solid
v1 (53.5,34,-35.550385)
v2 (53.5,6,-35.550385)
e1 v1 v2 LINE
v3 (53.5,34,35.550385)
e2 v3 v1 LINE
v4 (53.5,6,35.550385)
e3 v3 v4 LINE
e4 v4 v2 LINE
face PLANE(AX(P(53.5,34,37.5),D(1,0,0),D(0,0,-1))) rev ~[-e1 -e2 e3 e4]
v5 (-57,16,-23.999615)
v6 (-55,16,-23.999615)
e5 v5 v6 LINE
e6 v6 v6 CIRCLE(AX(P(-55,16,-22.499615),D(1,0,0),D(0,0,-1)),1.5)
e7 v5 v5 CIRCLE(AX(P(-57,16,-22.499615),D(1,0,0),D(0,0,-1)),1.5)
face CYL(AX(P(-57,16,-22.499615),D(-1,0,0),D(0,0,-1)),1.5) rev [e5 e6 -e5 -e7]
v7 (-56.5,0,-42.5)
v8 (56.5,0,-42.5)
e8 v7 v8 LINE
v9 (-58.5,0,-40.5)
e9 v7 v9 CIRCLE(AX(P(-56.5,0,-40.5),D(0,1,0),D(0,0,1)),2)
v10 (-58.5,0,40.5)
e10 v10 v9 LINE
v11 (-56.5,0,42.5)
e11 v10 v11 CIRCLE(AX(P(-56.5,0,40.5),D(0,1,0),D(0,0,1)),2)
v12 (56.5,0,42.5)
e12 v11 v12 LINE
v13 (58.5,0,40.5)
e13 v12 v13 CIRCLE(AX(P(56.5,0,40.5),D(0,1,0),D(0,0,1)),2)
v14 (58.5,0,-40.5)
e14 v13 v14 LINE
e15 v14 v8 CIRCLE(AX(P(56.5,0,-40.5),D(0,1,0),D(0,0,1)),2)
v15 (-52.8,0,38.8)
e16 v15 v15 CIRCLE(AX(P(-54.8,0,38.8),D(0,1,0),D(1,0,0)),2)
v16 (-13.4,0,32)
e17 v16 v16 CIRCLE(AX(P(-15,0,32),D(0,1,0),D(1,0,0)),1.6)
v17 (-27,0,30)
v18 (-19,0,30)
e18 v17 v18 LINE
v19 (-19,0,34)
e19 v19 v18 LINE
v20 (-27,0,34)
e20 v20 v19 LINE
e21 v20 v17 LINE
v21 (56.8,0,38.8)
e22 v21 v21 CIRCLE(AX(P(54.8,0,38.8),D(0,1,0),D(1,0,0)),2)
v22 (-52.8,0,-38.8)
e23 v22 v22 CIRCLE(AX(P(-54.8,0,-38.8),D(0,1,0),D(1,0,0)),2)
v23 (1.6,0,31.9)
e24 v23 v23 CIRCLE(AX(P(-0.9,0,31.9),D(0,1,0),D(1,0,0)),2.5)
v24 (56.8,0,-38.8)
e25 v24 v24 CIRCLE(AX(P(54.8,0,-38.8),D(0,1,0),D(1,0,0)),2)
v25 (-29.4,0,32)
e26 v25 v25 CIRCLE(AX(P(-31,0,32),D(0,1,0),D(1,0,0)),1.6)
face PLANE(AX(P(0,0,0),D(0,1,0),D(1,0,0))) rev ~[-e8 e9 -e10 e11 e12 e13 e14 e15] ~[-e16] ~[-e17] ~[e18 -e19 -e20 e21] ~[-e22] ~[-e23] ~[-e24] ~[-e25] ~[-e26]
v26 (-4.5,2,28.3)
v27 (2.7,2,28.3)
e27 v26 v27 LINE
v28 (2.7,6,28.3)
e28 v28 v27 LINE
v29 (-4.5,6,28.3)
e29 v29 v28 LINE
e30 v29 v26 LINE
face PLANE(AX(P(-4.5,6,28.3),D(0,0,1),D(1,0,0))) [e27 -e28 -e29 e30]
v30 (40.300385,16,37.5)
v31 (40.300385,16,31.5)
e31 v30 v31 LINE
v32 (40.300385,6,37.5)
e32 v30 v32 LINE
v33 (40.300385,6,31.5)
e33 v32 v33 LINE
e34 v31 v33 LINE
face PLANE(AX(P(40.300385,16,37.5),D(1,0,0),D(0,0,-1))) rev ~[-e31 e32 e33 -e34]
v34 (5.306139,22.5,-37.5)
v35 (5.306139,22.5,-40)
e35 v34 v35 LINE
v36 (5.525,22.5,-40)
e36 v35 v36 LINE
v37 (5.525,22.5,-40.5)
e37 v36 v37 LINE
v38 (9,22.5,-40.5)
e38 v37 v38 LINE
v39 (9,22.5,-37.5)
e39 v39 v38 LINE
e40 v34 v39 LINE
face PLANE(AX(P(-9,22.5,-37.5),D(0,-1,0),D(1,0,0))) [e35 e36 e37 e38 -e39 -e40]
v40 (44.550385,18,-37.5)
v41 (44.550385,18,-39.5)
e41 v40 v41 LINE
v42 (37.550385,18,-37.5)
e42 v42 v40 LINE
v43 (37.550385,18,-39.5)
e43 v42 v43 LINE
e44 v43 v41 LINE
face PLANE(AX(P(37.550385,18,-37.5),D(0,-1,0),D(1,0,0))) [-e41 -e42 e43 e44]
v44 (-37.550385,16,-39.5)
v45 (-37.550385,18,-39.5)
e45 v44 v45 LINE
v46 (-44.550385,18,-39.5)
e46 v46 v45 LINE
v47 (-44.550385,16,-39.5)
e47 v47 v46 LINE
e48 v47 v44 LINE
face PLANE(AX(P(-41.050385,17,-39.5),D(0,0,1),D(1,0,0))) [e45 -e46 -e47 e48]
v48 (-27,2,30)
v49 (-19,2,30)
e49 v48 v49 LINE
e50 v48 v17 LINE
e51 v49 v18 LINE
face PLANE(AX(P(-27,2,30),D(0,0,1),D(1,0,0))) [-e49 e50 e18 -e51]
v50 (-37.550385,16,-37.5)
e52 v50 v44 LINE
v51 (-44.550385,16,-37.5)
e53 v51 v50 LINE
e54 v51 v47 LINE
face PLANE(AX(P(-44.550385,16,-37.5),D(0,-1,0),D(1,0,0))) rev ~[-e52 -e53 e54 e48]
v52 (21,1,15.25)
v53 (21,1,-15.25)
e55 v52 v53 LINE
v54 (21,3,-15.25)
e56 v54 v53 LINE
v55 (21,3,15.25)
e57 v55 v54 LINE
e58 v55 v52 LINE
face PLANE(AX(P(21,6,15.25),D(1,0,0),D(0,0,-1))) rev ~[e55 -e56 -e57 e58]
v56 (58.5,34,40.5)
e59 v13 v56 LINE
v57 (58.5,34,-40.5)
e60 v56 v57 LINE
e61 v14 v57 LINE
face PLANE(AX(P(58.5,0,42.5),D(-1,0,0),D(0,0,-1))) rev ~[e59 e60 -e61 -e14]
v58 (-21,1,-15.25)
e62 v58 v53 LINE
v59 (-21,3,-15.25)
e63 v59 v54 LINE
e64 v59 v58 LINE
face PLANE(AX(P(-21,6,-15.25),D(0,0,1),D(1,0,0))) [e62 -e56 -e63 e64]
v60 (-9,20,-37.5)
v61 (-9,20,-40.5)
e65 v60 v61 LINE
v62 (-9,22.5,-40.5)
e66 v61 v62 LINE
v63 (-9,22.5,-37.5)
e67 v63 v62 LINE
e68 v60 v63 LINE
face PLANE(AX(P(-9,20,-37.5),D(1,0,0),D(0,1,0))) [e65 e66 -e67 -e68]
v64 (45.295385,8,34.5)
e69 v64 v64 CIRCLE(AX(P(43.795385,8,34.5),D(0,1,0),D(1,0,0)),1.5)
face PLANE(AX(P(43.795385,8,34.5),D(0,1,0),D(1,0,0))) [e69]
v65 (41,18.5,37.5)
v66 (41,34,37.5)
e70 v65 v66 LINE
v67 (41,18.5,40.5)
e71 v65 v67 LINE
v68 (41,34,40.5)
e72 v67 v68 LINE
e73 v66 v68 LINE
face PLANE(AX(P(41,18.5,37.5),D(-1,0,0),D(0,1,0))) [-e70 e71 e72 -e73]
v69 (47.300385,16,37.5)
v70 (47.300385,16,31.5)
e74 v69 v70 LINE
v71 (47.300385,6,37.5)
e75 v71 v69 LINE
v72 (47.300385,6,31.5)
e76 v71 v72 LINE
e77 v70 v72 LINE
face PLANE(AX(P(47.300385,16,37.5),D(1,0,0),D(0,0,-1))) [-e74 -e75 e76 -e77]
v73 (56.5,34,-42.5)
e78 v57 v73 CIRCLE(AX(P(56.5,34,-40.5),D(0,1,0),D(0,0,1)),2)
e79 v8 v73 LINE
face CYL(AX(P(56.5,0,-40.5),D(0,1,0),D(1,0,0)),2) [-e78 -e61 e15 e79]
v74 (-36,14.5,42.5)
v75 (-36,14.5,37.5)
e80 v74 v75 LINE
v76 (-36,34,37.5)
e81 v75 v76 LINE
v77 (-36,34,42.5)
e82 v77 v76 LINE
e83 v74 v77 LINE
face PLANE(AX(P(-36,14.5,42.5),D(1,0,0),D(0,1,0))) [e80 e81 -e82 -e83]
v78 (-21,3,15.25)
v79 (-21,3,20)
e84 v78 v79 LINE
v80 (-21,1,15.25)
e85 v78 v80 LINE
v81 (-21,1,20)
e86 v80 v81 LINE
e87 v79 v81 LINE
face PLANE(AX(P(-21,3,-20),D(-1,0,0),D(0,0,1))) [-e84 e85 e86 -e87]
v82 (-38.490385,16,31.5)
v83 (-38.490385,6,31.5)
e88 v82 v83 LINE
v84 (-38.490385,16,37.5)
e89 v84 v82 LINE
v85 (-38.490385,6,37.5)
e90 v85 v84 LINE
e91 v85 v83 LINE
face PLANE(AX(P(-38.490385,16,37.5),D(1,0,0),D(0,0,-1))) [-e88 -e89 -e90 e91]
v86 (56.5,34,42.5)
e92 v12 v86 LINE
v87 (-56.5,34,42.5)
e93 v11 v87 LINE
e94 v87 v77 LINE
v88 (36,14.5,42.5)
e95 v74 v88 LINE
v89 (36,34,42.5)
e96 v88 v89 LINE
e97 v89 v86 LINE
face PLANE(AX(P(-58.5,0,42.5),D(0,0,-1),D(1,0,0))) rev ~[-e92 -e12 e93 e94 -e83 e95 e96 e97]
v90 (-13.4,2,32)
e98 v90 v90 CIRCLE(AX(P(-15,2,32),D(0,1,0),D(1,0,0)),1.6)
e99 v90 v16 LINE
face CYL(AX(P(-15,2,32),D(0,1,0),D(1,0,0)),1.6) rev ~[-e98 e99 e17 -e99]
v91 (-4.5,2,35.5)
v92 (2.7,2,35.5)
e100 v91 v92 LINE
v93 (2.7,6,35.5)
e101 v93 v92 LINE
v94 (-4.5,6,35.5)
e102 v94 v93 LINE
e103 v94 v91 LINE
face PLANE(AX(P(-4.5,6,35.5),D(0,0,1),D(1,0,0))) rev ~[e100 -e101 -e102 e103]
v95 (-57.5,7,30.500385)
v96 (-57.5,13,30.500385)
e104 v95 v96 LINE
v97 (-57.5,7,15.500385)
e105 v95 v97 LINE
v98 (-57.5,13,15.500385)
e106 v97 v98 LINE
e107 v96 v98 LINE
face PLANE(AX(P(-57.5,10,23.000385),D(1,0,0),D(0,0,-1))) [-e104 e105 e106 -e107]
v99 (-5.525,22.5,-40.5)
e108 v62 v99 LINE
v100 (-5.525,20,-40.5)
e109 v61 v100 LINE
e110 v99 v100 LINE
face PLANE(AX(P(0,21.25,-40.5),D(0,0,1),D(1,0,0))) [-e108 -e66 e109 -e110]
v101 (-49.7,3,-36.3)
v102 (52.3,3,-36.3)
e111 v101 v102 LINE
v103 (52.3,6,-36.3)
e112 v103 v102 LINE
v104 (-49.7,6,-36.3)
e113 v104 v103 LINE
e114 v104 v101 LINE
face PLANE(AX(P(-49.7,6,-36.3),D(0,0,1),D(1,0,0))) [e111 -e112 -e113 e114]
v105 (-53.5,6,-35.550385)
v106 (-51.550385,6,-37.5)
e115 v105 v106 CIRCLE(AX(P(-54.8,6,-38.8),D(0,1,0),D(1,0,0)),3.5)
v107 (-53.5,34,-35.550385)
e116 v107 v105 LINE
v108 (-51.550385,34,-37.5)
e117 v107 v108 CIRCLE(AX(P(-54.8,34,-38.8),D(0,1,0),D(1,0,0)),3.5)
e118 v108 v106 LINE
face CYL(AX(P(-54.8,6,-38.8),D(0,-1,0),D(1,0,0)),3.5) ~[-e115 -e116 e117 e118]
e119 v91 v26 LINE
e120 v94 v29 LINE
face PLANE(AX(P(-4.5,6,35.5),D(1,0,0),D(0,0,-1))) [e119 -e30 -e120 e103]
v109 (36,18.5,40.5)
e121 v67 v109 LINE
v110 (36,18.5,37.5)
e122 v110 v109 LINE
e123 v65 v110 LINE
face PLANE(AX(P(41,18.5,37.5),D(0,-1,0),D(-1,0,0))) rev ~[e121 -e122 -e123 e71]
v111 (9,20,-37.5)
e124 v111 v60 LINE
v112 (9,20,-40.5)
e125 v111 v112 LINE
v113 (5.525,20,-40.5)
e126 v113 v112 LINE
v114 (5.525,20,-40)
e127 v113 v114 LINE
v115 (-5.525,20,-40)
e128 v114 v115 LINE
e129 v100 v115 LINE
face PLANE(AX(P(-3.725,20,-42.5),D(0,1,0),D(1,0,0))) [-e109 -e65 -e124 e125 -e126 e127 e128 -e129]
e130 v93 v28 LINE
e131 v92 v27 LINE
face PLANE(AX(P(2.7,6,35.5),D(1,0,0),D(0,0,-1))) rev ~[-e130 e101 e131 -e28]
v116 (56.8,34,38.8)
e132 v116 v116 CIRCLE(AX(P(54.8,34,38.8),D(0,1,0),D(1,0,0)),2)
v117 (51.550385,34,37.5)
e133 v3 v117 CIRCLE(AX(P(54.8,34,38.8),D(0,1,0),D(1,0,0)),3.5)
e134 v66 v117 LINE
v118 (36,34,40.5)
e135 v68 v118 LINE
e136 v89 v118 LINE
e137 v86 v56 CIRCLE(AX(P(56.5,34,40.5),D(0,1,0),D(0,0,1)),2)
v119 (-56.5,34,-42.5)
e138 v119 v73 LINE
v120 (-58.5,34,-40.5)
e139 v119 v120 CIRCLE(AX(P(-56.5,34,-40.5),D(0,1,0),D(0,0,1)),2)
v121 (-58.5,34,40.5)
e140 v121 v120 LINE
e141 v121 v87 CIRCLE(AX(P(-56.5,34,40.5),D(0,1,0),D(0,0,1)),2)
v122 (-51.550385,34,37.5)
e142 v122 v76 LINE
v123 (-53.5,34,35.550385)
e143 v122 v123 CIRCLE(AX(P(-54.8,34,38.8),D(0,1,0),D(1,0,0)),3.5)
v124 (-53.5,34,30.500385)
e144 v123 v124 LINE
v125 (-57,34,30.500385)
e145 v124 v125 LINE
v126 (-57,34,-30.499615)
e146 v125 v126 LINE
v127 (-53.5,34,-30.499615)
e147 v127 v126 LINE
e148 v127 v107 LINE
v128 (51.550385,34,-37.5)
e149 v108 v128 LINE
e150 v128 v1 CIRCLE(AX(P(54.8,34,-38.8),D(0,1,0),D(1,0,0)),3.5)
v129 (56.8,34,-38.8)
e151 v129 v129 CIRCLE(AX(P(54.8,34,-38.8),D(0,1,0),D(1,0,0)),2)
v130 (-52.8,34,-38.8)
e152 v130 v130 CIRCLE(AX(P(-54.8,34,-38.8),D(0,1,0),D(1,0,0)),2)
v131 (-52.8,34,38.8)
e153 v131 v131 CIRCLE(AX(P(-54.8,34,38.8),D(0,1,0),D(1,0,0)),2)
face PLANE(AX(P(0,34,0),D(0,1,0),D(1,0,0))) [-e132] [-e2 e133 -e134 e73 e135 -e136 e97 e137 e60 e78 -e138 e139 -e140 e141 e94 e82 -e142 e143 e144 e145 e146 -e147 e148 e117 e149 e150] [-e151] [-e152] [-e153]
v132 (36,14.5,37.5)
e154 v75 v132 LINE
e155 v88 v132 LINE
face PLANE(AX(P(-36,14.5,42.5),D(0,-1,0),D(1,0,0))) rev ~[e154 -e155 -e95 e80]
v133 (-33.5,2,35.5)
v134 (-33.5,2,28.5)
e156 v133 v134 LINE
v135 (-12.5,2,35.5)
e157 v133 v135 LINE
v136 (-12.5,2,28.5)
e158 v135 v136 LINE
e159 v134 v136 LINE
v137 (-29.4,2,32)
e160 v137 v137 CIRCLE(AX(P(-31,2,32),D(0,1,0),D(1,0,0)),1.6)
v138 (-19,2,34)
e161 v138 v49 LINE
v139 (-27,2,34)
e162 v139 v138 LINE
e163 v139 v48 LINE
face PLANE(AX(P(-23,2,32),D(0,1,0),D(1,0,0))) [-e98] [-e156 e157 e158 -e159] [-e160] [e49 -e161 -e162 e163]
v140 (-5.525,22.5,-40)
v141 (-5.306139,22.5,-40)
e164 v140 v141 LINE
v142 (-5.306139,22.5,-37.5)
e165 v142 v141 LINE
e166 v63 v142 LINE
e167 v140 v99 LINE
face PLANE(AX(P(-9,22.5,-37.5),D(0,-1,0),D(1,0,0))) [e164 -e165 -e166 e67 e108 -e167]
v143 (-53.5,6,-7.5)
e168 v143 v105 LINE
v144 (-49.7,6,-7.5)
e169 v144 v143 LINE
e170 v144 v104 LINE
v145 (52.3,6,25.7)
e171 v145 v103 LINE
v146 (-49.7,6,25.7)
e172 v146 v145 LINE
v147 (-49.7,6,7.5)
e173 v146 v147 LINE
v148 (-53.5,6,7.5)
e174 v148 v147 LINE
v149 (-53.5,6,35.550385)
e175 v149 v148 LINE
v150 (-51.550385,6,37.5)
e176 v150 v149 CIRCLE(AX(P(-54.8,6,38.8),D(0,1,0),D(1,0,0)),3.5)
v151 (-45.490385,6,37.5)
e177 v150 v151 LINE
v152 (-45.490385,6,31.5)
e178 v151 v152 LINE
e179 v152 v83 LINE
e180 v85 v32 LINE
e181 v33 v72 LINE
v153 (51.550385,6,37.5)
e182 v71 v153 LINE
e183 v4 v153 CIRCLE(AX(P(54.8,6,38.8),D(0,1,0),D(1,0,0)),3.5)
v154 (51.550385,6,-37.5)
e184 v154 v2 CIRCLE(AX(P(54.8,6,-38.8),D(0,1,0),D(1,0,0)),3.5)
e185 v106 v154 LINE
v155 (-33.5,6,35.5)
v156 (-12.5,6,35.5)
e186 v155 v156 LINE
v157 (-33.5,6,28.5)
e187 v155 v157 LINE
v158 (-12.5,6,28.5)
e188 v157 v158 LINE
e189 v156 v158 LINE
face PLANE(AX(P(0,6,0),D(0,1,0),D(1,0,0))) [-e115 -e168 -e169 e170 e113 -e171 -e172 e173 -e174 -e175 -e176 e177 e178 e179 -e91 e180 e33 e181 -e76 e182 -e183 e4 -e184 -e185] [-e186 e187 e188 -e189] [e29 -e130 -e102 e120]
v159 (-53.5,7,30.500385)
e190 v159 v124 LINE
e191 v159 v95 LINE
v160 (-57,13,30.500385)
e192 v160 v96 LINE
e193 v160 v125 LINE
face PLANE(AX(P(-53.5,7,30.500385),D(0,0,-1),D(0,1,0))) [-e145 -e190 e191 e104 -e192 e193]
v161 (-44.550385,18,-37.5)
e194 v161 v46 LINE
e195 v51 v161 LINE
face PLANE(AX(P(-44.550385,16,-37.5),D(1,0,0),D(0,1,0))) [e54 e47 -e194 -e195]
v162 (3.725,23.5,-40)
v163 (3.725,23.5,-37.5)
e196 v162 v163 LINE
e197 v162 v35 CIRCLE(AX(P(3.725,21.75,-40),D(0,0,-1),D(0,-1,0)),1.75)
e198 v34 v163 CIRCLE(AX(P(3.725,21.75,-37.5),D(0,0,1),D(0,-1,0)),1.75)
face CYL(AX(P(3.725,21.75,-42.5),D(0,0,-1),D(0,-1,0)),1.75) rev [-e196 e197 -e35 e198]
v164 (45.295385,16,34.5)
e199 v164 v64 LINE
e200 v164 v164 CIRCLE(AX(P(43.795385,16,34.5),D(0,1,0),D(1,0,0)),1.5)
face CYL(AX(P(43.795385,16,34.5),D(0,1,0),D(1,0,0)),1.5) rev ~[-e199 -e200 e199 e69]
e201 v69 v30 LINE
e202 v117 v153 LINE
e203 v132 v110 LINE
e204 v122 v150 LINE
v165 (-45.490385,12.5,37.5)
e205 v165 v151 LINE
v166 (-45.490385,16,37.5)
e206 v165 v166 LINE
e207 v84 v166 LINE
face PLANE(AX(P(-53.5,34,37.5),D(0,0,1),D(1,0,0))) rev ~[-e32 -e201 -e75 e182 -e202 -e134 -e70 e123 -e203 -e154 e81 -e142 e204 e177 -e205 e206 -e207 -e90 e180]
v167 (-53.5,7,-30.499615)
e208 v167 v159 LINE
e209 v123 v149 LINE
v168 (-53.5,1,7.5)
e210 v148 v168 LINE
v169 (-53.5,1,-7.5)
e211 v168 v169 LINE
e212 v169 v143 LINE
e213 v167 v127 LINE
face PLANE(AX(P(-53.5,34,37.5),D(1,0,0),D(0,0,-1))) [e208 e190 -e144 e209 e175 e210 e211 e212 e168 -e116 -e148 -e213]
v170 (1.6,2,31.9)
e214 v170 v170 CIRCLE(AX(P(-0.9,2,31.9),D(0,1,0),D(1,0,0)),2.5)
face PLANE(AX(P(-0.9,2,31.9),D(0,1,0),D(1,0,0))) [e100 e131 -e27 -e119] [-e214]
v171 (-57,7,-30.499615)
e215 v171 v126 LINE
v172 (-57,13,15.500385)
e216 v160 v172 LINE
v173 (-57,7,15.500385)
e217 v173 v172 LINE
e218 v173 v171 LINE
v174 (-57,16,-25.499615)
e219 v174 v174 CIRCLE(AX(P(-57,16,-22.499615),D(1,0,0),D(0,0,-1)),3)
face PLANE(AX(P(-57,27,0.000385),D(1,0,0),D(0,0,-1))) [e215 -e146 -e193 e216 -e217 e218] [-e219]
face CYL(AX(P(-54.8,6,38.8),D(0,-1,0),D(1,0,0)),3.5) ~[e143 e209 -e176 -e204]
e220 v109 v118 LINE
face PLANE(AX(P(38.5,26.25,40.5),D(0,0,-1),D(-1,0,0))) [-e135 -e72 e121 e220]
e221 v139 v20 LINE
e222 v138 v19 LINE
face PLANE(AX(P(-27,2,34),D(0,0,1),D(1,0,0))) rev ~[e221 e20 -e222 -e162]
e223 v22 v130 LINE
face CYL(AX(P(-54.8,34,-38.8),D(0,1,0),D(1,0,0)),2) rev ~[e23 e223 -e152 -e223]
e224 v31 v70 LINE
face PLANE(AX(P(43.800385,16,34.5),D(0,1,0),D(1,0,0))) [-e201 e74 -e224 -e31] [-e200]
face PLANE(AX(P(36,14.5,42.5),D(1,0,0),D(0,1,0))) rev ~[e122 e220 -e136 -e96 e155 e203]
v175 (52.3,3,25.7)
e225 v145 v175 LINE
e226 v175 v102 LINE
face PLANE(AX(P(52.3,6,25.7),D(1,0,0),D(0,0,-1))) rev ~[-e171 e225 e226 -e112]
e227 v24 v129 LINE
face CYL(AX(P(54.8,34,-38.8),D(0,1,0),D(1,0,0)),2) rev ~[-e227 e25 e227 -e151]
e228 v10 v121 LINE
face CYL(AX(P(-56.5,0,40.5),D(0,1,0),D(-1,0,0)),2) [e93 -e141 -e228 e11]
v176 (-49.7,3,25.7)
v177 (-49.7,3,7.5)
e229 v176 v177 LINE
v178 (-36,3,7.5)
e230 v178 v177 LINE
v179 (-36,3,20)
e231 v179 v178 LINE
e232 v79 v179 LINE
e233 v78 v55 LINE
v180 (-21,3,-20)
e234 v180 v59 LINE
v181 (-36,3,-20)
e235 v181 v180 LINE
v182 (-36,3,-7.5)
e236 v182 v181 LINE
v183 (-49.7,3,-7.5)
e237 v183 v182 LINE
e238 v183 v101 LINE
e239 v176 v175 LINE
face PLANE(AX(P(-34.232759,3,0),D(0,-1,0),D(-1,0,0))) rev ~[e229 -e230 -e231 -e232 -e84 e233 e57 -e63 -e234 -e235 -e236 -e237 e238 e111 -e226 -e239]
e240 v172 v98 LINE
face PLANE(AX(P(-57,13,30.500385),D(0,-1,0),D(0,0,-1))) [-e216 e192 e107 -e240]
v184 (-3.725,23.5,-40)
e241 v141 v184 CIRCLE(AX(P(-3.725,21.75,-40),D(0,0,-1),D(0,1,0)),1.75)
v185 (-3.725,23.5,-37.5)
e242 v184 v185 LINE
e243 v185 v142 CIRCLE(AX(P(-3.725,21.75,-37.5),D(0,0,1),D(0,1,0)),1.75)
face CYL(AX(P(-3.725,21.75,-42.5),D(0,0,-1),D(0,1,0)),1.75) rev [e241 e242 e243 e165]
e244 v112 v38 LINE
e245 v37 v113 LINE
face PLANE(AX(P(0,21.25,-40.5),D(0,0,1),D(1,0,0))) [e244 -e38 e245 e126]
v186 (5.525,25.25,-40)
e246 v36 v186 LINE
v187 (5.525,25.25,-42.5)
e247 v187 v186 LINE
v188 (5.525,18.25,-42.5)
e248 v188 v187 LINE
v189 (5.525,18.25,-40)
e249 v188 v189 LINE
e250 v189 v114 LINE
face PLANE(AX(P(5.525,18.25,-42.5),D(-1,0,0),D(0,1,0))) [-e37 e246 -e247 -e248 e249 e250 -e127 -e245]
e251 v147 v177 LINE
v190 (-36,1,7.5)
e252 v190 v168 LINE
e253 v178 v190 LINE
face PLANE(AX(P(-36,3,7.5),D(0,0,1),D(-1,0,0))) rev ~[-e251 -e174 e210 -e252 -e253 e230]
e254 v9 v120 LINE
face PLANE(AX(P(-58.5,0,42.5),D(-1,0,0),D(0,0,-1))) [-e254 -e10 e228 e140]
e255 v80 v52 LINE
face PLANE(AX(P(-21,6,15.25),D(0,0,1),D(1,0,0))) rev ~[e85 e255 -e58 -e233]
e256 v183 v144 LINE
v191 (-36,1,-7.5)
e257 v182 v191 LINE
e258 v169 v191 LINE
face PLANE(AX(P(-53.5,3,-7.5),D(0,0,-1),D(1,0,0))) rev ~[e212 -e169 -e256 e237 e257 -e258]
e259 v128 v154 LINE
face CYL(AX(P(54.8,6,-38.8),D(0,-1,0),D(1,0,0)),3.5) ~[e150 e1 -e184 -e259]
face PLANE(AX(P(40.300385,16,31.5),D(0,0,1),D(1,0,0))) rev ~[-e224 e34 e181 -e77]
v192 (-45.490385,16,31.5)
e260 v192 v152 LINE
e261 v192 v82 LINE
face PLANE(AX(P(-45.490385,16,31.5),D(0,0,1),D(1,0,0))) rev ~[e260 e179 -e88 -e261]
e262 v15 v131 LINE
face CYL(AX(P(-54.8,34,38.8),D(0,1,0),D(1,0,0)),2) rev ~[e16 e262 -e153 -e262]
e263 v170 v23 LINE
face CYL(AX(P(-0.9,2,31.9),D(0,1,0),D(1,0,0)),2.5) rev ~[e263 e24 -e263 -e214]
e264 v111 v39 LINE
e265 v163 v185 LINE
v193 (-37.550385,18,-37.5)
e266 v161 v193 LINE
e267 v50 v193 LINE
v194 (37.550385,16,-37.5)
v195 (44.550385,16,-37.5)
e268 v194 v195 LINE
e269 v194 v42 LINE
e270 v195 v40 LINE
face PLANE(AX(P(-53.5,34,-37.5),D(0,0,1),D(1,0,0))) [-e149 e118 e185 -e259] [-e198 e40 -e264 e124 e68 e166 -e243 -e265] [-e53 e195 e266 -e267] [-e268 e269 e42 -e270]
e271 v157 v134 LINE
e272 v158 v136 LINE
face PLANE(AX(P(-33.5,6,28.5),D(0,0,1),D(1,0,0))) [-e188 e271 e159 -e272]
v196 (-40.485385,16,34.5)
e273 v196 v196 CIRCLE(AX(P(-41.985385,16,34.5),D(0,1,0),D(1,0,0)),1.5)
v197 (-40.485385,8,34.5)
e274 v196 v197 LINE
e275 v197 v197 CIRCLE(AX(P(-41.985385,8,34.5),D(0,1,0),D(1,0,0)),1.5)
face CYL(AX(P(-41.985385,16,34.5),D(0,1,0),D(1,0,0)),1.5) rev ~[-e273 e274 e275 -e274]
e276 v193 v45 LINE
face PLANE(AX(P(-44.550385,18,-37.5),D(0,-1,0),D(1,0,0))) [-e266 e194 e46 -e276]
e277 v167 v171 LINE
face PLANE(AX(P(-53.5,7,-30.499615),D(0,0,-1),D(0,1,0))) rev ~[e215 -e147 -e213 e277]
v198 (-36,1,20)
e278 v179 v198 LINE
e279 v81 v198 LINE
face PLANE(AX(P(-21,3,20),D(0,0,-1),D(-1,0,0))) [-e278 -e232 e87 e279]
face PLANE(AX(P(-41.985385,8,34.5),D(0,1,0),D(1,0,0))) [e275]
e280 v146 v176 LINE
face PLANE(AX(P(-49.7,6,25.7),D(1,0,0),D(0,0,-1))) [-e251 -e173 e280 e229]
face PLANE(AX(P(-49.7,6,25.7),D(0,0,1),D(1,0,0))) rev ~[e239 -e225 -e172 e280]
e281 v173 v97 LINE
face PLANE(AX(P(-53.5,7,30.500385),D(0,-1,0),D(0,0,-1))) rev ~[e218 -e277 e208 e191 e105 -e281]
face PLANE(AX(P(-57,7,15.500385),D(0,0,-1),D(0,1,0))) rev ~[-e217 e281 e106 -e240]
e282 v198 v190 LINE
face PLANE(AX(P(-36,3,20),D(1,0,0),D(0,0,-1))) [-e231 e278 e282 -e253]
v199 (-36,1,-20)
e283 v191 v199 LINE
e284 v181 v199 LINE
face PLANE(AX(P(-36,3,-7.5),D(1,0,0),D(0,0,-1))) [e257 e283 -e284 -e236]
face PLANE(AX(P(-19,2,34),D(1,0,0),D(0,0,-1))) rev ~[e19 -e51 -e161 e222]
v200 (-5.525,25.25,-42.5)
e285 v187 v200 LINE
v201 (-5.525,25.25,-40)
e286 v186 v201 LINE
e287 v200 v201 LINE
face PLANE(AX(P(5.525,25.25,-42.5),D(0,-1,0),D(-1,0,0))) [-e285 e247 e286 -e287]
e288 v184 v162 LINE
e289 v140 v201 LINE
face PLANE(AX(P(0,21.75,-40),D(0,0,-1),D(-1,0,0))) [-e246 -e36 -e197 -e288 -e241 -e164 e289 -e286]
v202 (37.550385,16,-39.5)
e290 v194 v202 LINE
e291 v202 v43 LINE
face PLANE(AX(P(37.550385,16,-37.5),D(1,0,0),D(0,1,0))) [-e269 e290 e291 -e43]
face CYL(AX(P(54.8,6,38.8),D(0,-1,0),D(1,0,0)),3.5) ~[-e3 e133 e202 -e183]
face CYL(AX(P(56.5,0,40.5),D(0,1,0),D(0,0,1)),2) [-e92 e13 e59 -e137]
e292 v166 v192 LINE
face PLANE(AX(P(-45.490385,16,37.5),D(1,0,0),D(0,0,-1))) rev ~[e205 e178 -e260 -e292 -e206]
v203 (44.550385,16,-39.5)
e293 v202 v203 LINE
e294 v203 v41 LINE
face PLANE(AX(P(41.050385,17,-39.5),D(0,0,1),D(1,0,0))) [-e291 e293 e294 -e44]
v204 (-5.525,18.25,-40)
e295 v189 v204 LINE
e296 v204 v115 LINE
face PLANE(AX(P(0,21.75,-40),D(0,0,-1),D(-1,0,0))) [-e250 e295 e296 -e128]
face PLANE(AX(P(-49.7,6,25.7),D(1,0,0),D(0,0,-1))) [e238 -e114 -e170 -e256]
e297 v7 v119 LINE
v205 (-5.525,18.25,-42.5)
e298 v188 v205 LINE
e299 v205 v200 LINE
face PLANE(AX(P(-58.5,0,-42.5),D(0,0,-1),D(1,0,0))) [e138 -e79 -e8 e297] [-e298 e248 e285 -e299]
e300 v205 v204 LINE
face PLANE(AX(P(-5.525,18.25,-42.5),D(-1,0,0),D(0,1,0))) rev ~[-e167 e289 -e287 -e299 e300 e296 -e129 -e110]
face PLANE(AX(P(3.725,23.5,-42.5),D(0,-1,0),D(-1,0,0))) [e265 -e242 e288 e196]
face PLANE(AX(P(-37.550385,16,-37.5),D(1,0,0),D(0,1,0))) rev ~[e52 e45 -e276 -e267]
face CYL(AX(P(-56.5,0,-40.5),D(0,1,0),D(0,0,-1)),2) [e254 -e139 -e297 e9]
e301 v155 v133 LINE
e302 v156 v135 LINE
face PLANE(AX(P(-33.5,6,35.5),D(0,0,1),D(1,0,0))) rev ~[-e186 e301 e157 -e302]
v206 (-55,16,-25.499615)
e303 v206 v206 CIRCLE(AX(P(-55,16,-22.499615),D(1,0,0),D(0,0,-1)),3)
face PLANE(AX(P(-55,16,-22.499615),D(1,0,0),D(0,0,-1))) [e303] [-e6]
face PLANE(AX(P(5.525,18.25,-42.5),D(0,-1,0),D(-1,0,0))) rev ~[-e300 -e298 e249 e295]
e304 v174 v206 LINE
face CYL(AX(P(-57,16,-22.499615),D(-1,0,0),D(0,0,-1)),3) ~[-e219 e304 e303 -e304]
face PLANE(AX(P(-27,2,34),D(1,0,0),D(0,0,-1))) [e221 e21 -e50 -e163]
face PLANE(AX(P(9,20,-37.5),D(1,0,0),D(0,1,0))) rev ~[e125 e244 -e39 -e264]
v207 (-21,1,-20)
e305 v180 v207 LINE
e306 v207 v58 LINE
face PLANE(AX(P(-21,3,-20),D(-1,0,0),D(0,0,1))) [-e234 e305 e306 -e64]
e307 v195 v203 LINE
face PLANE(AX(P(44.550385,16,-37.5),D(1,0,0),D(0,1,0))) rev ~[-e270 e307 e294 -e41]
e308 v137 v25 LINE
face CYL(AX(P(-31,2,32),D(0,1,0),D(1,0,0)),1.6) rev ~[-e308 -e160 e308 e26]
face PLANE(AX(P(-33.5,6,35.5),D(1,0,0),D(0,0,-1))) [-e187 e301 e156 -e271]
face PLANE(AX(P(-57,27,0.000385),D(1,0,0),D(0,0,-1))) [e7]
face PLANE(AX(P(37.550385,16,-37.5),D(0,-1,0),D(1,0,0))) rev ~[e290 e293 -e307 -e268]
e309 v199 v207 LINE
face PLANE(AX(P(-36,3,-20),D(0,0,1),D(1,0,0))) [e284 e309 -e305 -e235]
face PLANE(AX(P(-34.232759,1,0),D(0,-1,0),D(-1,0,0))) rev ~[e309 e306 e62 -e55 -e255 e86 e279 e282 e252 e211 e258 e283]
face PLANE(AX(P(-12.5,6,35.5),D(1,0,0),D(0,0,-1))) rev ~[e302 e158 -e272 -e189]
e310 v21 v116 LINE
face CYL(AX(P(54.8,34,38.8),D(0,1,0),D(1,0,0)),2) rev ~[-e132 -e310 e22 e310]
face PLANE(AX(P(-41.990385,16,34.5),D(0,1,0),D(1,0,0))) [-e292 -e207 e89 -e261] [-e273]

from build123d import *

# Parameters (mm, degrees)
SKETCH1_W                = 117
SKETCH1_H                = 85
BOSS_EXTRUDE1_DEPTH      = 34
SKETCH2_W                = 107
SKETCH2_H                = 75
CUT_EXTRUDE1_DEPTH       = 28
SKETCH3_R                = 2
CUT_EXTRUDE2_DEPTH       = 28
CUT_EXTRUDE2_DEPTH_BACK  = 28
SKETCH11_R               = 3.5
BOSS_EXTRUDE3_DEPTH      = 28
SKETCH13_R               = 2
CUT_EXTRUDE9_DEPTH       = 35
SKETCH14_W               = 102
SKETCH14_H               = 62
CUT_EXTRUDE10_DEPTH      = 3
SKETCH15_W               = 61
SKETCH15_H               = 40
CUT_EXTRUDE11_DEPTH      = 3.5
SKETCH16_W               = 15
SKETCH16_H               = 6
CUT_EXTRUDE12_DEPTH      = 0.5
CUT_EXTRUDE13_DEPTH      = 5
SKETCH20_W               = 72
SKETCH20_H               = 25
CUT_EXTRUDE14_DEPTH      = 5
SKETCH21_W               = 7
SKETCH21_H               = 2
CUT_EXTRUDE15_DEPTH      = 2
SKETCH22_W               = 7
SKETCH22_H               = 2
BOSS_EXTRUDE5_DEPTH      = 2.5
SKETCH23_W               = 3
SKETCH23_H               = 1.5
BOSS_EXTRUDE6_DEPTH      = 2.5
CUT_EXTRUDE17_DEPTH      = 92.5
SKETCH38_W               = 21
SKETCH38_H               = 7
CUT_EXTRUDE22_DEPTH      = 4
SKETCH39_R               = 1.6
SKETCH39_W               = 8
SKETCH39_H               = 4
CUT_EXTRUDE23_DEPTH      = 33
CUT_EXTRUDE23_DEPTH_BACK = 3
SKETCH40_W               = 7.2
SKETCH40_H               = 7.2
CUT_EXTRUDE24_DEPTH      = 4
SKETCH41_R               = 2.5
CUT_EXTRUDE25_DEPTH      = 4
FILLET5_R                = 2
FILLET6_R                = 2
FILLET7_R                = 2
FILLET8_R                = 2
SKETCH6_W                = 42
SKETCH6_H                = 30.5
CUT_EXTRUDE26_DEPTH      = 5
CUT_EXTRUDE27_DEPTH      = 5
CUT_EXTRUDE27_DEPTH_BACK = 2
SKETCH43_R               = 3
SKETCH43_R_2             = 1.5
BOSS_EXTRUDE7_DEPTH      = 2
SKETCH44_W               = 5
SKETCH44_H               = 15.5
CUT_EXTRUDE28_DEPTH      = 3
SKETCH45_W               = 18
SKETCH45_H               = 2.5
CUT_EXTRUDE29_DEPTH      = 3
SKETCH47_W               = 11.05
SKETCH47_H               = 7
CUT_EXTRUDE30_DEPTH      = 2.5
SKETCH48_W               = 7
SKETCH48_H               = 6
BOSS_EXTRUDE8_DEPTH      = 10
SKETCH49_W               = 7
SKETCH49_H               = 6
BOSS_EXTRUDE9_DEPTH      = 10
SKETCH51_R               = 1.5
CUT_EXTRUDE31_DEPTH      = 8
SKETCH50_R               = 1.5
CUT_EXTRUDE32_DEPTH      = 8


with BuildPart() as part:
    # Sketch1 → Boss-Extrude1 (new body)
    with BuildSketch(Plane(origin=(0, 0, 0), x_dir=(1, 0, 0), z_dir=(0, 1, 0))):
        Rectangle(SKETCH1_W, SKETCH1_H)
    extrude(amount=BOSS_EXTRUDE1_DEPTH)

    # Sketch2 → Cut-Extrude1 (cut)
    with BuildSketch(Plane(origin=(0, 34, 0), x_dir=(1, 0, 0), z_dir=(0, 1, 0))):
        Rectangle(SKETCH2_W, SKETCH2_H)
    extrude(amount=-CUT_EXTRUDE1_DEPTH, mode=Mode.SUBTRACT)

    # Sketch3 → Cut-Extrude2 (cut, two sides)
    with BuildSketch(Plane(origin=(0, 6, 0), x_dir=(1, 0, 0), z_dir=(0, 1, 0))) as cut_extrude2_sk:
        with Locations((54.8, -38.8)):
            Circle(SKETCH3_R)
        with Locations((54.8, 38.8)):
            Circle(SKETCH3_R)
        with Locations((-54.8, 38.8)):
            Circle(SKETCH3_R)
        with Locations((-54.8, -38.8)):
            Circle(SKETCH3_R)
    extrude(amount=CUT_EXTRUDE2_DEPTH, mode=Mode.SUBTRACT)
    extrude(cut_extrude2_sk.sketch, amount=-CUT_EXTRUDE2_DEPTH_BACK, mode=Mode.SUBTRACT)

    # Sketch11 → Boss-Extrude3 (add)
    with BuildSketch(Plane(origin=(0, 6, 0), x_dir=(1, 0, 0), z_dir=(0, 1, 0))):
        with Locations((-54.8, -38.8)):
            Circle(SKETCH11_R)
        with Locations((-54.8, 38.8)):
            Circle(SKETCH11_R)
        with Locations((54.8, -38.8)):
            Circle(SKETCH11_R)
        with Locations((54.8, 38.8)):
            Circle(SKETCH11_R)
    extrude(amount=BOSS_EXTRUDE3_DEPTH)

    # Sketch13 → Cut-Extrude9 (cut, through all)
    with BuildSketch(Plane(origin=(0, 34, 0), x_dir=(1, 0, 0), z_dir=(0, 1, 0))):
        with Locations((-54.8, 38.8)):
            Circle(SKETCH13_R)
        with Locations((54.8, 38.8)):
            Circle(SKETCH13_R)
        with Locations((-54.8, -38.8)):
            Circle(SKETCH13_R)
        with Locations((54.8, -38.8)):
            Circle(SKETCH13_R)
    extrude(amount=-CUT_EXTRUDE9_DEPTH, mode=Mode.SUBTRACT)

    # Sketch14 → Cut-Extrude10 (cut)
    with BuildSketch(Plane(origin=(0, 6, 0), x_dir=(1, 0, 0), z_dir=(0, 1, 0))):
        with Locations((1.3, 5.3)):
            Rectangle(SKETCH14_W, SKETCH14_H)
    extrude(amount=-CUT_EXTRUDE10_DEPTH, mode=Mode.SUBTRACT)

    # Sketch15 → Cut-Extrude11 (cut)
    with BuildSketch(Plane(origin=(-53.5, 0, 0), x_dir=(0, 0, -1), z_dir=(1, 0, 0))):
        with Locations((-0.000384638, 27)):
            Rectangle(SKETCH15_W, SKETCH15_H)
    extrude(amount=-CUT_EXTRUDE11_DEPTH, mode=Mode.SUBTRACT)

    # Sketch16 → Cut-Extrude12 (cut)
    with BuildSketch(Plane(origin=(-57, 0, 0), x_dir=(0, 0, -1), z_dir=(1, 0, 0))):
        with Locations((-23.000384638, 10)):
            Rectangle(SKETCH16_W, SKETCH16_H)
    extrude(amount=-CUT_EXTRUDE12_DEPTH, mode=Mode.SUBTRACT)

    # Sketch18 → Cut-Extrude13 (cut)
    with BuildSketch(Plane(origin=(0, 0, -42.5), x_dir=(-1, 0, 0), z_dir=(0, 0, -1))):
        with BuildLine():
            Line((-3.725, 23.5), (3.725, 23.5))
            ThreePointArc((3.725, 23.5), (5.475, 21.75), (3.725, 20))
            Line((3.725, 20), (-3.725, 20))
            ThreePointArc((-3.725, 20), (-5.475, 21.75), (-3.725, 23.5))
        make_face()
    extrude(amount=-CUT_EXTRUDE13_DEPTH, mode=Mode.SUBTRACT)

    # Sketch20 → Cut-Extrude14 (cut)
    with BuildSketch(Plane.XY.offset(42.5)):
        with Locations((0, 27)):
            Rectangle(SKETCH20_W, SKETCH20_H)
    extrude(amount=-CUT_EXTRUDE14_DEPTH, mode=Mode.SUBTRACT)

    # Sketch21 → Cut-Extrude15 (cut)
    with BuildSketch(Plane.XY.offset(-37.5)):
        with Locations((-41.050384638, 17)):
            Rectangle(SKETCH21_W, SKETCH21_H)
        with Locations((41.050384638, 17)):
            Rectangle(SKETCH21_W, SKETCH21_H)
    extrude(amount=-CUT_EXTRUDE15_DEPTH, mode=Mode.SUBTRACT)

    # Sketch22 → Boss-Extrude5 (add)
    with BuildSketch(Plane(origin=(0, 0, 37.5), x_dir=(-1, 0, 0), z_dir=(0, 0, -1))):
        with Locations((-43.800384638, 15)):
            Rectangle(SKETCH22_W, SKETCH22_H)
        with Locations((41.990384638, 15)):
            Rectangle(SKETCH22_W, SKETCH22_H)
    extrude(amount=BOSS_EXTRUDE5_DEPTH)

    # Sketch23 → Boss-Extrude6 (add)
    with BuildSketch(Plane(origin=(0, 0, 37.5), x_dir=(-1, 0, 0), z_dir=(0, 0, -1))):
        with Locations((-43.800384638, 13.25)):
            Rectangle(SKETCH23_W, SKETCH23_H)
        with Locations((43.800384638, 13.25)):
            Rectangle(SKETCH23_W, SKETCH23_H)
    extrude(amount=BOSS_EXTRUDE6_DEPTH)

    # Sketch25 → Cut-Extrude17 (cut)
    with BuildSketch(Plane(origin=(45.300384638, 0, 0), x_dir=(0, 0, -1), z_dir=(1, 0, 0))):
        Polygon((-35, 14), (-37.5, 12.5), (-35, 12.5), align=None)
    extrude(amount=-CUT_EXTRUDE17_DEPTH, mode=Mode.SUBTRACT)

    # Sketch38 → Cut-Extrude22 (cut)
    with BuildSketch(Plane(origin=(0, 6, 0), x_dir=(1, 0, 0), z_dir=(0, 1, 0))):
        with Locations((-23, -32)):
            Rectangle(SKETCH38_W, SKETCH38_H)
    extrude(amount=-CUT_EXTRUDE22_DEPTH, mode=Mode.SUBTRACT)

    # Sketch39 → Cut-Extrude23 (cut, two sides)
    with BuildSketch(Plane(origin=(0, 2, 0), x_dir=(1, 0, 0), z_dir=(0, 1, 0))) as cut_extrude23_sk:
        with Locations((-31, -32)):
            Circle(SKETCH39_R)
        with Locations((-15, -32)):
            Circle(SKETCH39_R)
        with Locations((-23, -32)):
            Rectangle(SKETCH39_W, SKETCH39_H)
    extrude(amount=CUT_EXTRUDE23_DEPTH, mode=Mode.SUBTRACT)
    extrude(cut_extrude23_sk.sketch, amount=-CUT_EXTRUDE23_DEPTH_BACK, mode=Mode.SUBTRACT)

    # Sketch40 → Cut-Extrude24 (cut)
    with BuildSketch(Plane(origin=(0, 6, 0), x_dir=(1, 0, 0), z_dir=(0, 1, 0))):
        with Locations((-0.9, -31.9)):
            Rectangle(SKETCH40_W, SKETCH40_H)
    extrude(amount=-CUT_EXTRUDE24_DEPTH, mode=Mode.SUBTRACT)

    # Sketch41 → Cut-Extrude25 (cut)
    with BuildSketch(Plane(origin=(0, 2, 0), x_dir=(1, 0, 0), z_dir=(0, 1, 0))):
        with Locations((-0.9, -31.9)):
            Circle(SKETCH41_R)
    extrude(amount=-CUT_EXTRUDE25_DEPTH, mode=Mode.SUBTRACT)

    # Fillet5
    fillet5_edges = [part.edges().sort_by_distance(p)[0] for p in [
        (-58.5, 17, 42.5),
    ]]
    fillet(fillet5_edges, radius=FILLET5_R)

    # Fillet6
    fillet6_edges = [part.edges().sort_by_distance(p)[0] for p in [
        (58.5, 17, 42.5),
    ]]
    fillet(fillet6_edges, radius=FILLET6_R)

    # Fillet7
    fillet7_edges = [part.edges().sort_by_distance(p)[0] for p in [
        (58.5, 17, -42.5),
    ]]
    fillet(fillet7_edges, radius=FILLET7_R)

    # Fillet8
    fillet8_edges = [part.edges().sort_by_distance(p)[0] for p in [
        (-58.5, 17, -42.5),
    ]]
    fillet(fillet8_edges, radius=FILLET8_R)

    # Sketch6 → Cut-Extrude26 (cut)
    with BuildSketch(Plane(origin=(22.627458043, 6, 6.502354234), x_dir=(1, 0, 0), z_dir=(0, 1, 0))):
        with Locations((-22.627458043, 6.502354234)):
            Rectangle(SKETCH6_W, SKETCH6_H)
    extrude(amount=-CUT_EXTRUDE26_DEPTH, mode=Mode.SUBTRACT)

    # Sketch42 → Cut-Extrude27 (cut, two sides)
    with BuildSketch(Plane(origin=(0, 3, 0), x_dir=(1, 0, 0), z_dir=(0, 1, 0))) as cut_extrude27_sk:
        Polygon((-21, -20), (-36, -20), (-36, -7.5), (-53.5, -7.5), (-53.5, 7.5), (-36, 7.5), (-36, 20), (-21, 20), align=None)
    extrude(amount=CUT_EXTRUDE27_DEPTH, mode=Mode.SUBTRACT)
    extrude(cut_extrude27_sk.sketch, amount=-CUT_EXTRUDE27_DEPTH_BACK, mode=Mode.SUBTRACT)

    # Sketch43 → Boss-Extrude7 (add)
    with BuildSketch(Plane(origin=(-57, 0, 0), x_dir=(0, 0, -1), z_dir=(1, 0, 0))):
        with Locations((22.499615362, 16)):
            Circle(SKETCH43_R)
        with Locations((22.499615362, 16)):
            Circle(SKETCH43_R_2, mode=Mode.SUBTRACT)
    extrude(amount=BOSS_EXTRUDE7_DEPTH)

    # Sketch44 → Cut-Extrude28 (cut)
    with BuildSketch(Plane(origin=(0, 0, 37.5), x_dir=(-1, 0, 0), z_dir=(0, 0, -1))):
        with Locations((-38.5, 26.25)):
            Rectangle(SKETCH44_W, SKETCH44_H)
    extrude(amount=-CUT_EXTRUDE28_DEPTH, mode=Mode.SUBTRACT)

    # Sketch45 → Cut-Extrude29 (cut)
    with BuildSketch(Plane.XY.offset(-37.5)):
        with Locations((0, 21.25)):
            Rectangle(SKETCH45_W, SKETCH45_H)
    extrude(amount=-CUT_EXTRUDE29_DEPTH, mode=Mode.SUBTRACT)

    # Sketch47 → Cut-Extrude30 (cut)
    with BuildSketch(Plane(origin=(0, 0, -42.5), x_dir=(-1, 0, 0), z_dir=(0, 0, -1))):
        with Locations((0, 21.75)):
            Rectangle(SKETCH47_W, SKETCH47_H)
    extrude(amount=-CUT_EXTRUDE30_DEPTH, mode=Mode.SUBTRACT)

    # Sketch48 → Boss-Extrude8 (add)
    with BuildSketch(Plane(origin=(0, 16, 0), x_dir=(1, 0, 0), z_dir=(0, 1, 0))):
        with Locations((43.800384638, -34.5)):
            Rectangle(SKETCH48_W, SKETCH48_H)
    extrude(amount=-BOSS_EXTRUDE8_DEPTH)

    # Sketch49 → Boss-Extrude9 (add)
    with BuildSketch(Plane(origin=(0, 16, 0), x_dir=(1, 0, 0), z_dir=(0, 1, 0))):
        with Locations((-41.990384638, -34.5)):
            Rectangle(SKETCH49_W, SKETCH49_H)
    extrude(amount=-BOSS_EXTRUDE9_DEPTH)

    # Sketch51 → Cut-Extrude31 (cut)
    with BuildSketch(Plane(origin=(0, 16, 0), x_dir=(1, 0, 0), z_dir=(0, 1, 0))):
        with Locations((-41.985384638, -34.5)):
            Circle(SKETCH51_R)
    extrude(amount=-CUT_EXTRUDE31_DEPTH, mode=Mode.SUBTRACT)

    # Sketch50 → Cut-Extrude32 (cut)
    with BuildSketch(Plane(origin=(0, 16, 0), x_dir=(1, 0, 0), z_dir=(0, 1, 0))):
        with Locations((43.795384638, -34.5)):
            Circle(SKETCH50_R)
    extrude(amount=-CUT_EXTRUDE32_DEPTH, mode=Mode.SUBTRACT)


solid = part.part
